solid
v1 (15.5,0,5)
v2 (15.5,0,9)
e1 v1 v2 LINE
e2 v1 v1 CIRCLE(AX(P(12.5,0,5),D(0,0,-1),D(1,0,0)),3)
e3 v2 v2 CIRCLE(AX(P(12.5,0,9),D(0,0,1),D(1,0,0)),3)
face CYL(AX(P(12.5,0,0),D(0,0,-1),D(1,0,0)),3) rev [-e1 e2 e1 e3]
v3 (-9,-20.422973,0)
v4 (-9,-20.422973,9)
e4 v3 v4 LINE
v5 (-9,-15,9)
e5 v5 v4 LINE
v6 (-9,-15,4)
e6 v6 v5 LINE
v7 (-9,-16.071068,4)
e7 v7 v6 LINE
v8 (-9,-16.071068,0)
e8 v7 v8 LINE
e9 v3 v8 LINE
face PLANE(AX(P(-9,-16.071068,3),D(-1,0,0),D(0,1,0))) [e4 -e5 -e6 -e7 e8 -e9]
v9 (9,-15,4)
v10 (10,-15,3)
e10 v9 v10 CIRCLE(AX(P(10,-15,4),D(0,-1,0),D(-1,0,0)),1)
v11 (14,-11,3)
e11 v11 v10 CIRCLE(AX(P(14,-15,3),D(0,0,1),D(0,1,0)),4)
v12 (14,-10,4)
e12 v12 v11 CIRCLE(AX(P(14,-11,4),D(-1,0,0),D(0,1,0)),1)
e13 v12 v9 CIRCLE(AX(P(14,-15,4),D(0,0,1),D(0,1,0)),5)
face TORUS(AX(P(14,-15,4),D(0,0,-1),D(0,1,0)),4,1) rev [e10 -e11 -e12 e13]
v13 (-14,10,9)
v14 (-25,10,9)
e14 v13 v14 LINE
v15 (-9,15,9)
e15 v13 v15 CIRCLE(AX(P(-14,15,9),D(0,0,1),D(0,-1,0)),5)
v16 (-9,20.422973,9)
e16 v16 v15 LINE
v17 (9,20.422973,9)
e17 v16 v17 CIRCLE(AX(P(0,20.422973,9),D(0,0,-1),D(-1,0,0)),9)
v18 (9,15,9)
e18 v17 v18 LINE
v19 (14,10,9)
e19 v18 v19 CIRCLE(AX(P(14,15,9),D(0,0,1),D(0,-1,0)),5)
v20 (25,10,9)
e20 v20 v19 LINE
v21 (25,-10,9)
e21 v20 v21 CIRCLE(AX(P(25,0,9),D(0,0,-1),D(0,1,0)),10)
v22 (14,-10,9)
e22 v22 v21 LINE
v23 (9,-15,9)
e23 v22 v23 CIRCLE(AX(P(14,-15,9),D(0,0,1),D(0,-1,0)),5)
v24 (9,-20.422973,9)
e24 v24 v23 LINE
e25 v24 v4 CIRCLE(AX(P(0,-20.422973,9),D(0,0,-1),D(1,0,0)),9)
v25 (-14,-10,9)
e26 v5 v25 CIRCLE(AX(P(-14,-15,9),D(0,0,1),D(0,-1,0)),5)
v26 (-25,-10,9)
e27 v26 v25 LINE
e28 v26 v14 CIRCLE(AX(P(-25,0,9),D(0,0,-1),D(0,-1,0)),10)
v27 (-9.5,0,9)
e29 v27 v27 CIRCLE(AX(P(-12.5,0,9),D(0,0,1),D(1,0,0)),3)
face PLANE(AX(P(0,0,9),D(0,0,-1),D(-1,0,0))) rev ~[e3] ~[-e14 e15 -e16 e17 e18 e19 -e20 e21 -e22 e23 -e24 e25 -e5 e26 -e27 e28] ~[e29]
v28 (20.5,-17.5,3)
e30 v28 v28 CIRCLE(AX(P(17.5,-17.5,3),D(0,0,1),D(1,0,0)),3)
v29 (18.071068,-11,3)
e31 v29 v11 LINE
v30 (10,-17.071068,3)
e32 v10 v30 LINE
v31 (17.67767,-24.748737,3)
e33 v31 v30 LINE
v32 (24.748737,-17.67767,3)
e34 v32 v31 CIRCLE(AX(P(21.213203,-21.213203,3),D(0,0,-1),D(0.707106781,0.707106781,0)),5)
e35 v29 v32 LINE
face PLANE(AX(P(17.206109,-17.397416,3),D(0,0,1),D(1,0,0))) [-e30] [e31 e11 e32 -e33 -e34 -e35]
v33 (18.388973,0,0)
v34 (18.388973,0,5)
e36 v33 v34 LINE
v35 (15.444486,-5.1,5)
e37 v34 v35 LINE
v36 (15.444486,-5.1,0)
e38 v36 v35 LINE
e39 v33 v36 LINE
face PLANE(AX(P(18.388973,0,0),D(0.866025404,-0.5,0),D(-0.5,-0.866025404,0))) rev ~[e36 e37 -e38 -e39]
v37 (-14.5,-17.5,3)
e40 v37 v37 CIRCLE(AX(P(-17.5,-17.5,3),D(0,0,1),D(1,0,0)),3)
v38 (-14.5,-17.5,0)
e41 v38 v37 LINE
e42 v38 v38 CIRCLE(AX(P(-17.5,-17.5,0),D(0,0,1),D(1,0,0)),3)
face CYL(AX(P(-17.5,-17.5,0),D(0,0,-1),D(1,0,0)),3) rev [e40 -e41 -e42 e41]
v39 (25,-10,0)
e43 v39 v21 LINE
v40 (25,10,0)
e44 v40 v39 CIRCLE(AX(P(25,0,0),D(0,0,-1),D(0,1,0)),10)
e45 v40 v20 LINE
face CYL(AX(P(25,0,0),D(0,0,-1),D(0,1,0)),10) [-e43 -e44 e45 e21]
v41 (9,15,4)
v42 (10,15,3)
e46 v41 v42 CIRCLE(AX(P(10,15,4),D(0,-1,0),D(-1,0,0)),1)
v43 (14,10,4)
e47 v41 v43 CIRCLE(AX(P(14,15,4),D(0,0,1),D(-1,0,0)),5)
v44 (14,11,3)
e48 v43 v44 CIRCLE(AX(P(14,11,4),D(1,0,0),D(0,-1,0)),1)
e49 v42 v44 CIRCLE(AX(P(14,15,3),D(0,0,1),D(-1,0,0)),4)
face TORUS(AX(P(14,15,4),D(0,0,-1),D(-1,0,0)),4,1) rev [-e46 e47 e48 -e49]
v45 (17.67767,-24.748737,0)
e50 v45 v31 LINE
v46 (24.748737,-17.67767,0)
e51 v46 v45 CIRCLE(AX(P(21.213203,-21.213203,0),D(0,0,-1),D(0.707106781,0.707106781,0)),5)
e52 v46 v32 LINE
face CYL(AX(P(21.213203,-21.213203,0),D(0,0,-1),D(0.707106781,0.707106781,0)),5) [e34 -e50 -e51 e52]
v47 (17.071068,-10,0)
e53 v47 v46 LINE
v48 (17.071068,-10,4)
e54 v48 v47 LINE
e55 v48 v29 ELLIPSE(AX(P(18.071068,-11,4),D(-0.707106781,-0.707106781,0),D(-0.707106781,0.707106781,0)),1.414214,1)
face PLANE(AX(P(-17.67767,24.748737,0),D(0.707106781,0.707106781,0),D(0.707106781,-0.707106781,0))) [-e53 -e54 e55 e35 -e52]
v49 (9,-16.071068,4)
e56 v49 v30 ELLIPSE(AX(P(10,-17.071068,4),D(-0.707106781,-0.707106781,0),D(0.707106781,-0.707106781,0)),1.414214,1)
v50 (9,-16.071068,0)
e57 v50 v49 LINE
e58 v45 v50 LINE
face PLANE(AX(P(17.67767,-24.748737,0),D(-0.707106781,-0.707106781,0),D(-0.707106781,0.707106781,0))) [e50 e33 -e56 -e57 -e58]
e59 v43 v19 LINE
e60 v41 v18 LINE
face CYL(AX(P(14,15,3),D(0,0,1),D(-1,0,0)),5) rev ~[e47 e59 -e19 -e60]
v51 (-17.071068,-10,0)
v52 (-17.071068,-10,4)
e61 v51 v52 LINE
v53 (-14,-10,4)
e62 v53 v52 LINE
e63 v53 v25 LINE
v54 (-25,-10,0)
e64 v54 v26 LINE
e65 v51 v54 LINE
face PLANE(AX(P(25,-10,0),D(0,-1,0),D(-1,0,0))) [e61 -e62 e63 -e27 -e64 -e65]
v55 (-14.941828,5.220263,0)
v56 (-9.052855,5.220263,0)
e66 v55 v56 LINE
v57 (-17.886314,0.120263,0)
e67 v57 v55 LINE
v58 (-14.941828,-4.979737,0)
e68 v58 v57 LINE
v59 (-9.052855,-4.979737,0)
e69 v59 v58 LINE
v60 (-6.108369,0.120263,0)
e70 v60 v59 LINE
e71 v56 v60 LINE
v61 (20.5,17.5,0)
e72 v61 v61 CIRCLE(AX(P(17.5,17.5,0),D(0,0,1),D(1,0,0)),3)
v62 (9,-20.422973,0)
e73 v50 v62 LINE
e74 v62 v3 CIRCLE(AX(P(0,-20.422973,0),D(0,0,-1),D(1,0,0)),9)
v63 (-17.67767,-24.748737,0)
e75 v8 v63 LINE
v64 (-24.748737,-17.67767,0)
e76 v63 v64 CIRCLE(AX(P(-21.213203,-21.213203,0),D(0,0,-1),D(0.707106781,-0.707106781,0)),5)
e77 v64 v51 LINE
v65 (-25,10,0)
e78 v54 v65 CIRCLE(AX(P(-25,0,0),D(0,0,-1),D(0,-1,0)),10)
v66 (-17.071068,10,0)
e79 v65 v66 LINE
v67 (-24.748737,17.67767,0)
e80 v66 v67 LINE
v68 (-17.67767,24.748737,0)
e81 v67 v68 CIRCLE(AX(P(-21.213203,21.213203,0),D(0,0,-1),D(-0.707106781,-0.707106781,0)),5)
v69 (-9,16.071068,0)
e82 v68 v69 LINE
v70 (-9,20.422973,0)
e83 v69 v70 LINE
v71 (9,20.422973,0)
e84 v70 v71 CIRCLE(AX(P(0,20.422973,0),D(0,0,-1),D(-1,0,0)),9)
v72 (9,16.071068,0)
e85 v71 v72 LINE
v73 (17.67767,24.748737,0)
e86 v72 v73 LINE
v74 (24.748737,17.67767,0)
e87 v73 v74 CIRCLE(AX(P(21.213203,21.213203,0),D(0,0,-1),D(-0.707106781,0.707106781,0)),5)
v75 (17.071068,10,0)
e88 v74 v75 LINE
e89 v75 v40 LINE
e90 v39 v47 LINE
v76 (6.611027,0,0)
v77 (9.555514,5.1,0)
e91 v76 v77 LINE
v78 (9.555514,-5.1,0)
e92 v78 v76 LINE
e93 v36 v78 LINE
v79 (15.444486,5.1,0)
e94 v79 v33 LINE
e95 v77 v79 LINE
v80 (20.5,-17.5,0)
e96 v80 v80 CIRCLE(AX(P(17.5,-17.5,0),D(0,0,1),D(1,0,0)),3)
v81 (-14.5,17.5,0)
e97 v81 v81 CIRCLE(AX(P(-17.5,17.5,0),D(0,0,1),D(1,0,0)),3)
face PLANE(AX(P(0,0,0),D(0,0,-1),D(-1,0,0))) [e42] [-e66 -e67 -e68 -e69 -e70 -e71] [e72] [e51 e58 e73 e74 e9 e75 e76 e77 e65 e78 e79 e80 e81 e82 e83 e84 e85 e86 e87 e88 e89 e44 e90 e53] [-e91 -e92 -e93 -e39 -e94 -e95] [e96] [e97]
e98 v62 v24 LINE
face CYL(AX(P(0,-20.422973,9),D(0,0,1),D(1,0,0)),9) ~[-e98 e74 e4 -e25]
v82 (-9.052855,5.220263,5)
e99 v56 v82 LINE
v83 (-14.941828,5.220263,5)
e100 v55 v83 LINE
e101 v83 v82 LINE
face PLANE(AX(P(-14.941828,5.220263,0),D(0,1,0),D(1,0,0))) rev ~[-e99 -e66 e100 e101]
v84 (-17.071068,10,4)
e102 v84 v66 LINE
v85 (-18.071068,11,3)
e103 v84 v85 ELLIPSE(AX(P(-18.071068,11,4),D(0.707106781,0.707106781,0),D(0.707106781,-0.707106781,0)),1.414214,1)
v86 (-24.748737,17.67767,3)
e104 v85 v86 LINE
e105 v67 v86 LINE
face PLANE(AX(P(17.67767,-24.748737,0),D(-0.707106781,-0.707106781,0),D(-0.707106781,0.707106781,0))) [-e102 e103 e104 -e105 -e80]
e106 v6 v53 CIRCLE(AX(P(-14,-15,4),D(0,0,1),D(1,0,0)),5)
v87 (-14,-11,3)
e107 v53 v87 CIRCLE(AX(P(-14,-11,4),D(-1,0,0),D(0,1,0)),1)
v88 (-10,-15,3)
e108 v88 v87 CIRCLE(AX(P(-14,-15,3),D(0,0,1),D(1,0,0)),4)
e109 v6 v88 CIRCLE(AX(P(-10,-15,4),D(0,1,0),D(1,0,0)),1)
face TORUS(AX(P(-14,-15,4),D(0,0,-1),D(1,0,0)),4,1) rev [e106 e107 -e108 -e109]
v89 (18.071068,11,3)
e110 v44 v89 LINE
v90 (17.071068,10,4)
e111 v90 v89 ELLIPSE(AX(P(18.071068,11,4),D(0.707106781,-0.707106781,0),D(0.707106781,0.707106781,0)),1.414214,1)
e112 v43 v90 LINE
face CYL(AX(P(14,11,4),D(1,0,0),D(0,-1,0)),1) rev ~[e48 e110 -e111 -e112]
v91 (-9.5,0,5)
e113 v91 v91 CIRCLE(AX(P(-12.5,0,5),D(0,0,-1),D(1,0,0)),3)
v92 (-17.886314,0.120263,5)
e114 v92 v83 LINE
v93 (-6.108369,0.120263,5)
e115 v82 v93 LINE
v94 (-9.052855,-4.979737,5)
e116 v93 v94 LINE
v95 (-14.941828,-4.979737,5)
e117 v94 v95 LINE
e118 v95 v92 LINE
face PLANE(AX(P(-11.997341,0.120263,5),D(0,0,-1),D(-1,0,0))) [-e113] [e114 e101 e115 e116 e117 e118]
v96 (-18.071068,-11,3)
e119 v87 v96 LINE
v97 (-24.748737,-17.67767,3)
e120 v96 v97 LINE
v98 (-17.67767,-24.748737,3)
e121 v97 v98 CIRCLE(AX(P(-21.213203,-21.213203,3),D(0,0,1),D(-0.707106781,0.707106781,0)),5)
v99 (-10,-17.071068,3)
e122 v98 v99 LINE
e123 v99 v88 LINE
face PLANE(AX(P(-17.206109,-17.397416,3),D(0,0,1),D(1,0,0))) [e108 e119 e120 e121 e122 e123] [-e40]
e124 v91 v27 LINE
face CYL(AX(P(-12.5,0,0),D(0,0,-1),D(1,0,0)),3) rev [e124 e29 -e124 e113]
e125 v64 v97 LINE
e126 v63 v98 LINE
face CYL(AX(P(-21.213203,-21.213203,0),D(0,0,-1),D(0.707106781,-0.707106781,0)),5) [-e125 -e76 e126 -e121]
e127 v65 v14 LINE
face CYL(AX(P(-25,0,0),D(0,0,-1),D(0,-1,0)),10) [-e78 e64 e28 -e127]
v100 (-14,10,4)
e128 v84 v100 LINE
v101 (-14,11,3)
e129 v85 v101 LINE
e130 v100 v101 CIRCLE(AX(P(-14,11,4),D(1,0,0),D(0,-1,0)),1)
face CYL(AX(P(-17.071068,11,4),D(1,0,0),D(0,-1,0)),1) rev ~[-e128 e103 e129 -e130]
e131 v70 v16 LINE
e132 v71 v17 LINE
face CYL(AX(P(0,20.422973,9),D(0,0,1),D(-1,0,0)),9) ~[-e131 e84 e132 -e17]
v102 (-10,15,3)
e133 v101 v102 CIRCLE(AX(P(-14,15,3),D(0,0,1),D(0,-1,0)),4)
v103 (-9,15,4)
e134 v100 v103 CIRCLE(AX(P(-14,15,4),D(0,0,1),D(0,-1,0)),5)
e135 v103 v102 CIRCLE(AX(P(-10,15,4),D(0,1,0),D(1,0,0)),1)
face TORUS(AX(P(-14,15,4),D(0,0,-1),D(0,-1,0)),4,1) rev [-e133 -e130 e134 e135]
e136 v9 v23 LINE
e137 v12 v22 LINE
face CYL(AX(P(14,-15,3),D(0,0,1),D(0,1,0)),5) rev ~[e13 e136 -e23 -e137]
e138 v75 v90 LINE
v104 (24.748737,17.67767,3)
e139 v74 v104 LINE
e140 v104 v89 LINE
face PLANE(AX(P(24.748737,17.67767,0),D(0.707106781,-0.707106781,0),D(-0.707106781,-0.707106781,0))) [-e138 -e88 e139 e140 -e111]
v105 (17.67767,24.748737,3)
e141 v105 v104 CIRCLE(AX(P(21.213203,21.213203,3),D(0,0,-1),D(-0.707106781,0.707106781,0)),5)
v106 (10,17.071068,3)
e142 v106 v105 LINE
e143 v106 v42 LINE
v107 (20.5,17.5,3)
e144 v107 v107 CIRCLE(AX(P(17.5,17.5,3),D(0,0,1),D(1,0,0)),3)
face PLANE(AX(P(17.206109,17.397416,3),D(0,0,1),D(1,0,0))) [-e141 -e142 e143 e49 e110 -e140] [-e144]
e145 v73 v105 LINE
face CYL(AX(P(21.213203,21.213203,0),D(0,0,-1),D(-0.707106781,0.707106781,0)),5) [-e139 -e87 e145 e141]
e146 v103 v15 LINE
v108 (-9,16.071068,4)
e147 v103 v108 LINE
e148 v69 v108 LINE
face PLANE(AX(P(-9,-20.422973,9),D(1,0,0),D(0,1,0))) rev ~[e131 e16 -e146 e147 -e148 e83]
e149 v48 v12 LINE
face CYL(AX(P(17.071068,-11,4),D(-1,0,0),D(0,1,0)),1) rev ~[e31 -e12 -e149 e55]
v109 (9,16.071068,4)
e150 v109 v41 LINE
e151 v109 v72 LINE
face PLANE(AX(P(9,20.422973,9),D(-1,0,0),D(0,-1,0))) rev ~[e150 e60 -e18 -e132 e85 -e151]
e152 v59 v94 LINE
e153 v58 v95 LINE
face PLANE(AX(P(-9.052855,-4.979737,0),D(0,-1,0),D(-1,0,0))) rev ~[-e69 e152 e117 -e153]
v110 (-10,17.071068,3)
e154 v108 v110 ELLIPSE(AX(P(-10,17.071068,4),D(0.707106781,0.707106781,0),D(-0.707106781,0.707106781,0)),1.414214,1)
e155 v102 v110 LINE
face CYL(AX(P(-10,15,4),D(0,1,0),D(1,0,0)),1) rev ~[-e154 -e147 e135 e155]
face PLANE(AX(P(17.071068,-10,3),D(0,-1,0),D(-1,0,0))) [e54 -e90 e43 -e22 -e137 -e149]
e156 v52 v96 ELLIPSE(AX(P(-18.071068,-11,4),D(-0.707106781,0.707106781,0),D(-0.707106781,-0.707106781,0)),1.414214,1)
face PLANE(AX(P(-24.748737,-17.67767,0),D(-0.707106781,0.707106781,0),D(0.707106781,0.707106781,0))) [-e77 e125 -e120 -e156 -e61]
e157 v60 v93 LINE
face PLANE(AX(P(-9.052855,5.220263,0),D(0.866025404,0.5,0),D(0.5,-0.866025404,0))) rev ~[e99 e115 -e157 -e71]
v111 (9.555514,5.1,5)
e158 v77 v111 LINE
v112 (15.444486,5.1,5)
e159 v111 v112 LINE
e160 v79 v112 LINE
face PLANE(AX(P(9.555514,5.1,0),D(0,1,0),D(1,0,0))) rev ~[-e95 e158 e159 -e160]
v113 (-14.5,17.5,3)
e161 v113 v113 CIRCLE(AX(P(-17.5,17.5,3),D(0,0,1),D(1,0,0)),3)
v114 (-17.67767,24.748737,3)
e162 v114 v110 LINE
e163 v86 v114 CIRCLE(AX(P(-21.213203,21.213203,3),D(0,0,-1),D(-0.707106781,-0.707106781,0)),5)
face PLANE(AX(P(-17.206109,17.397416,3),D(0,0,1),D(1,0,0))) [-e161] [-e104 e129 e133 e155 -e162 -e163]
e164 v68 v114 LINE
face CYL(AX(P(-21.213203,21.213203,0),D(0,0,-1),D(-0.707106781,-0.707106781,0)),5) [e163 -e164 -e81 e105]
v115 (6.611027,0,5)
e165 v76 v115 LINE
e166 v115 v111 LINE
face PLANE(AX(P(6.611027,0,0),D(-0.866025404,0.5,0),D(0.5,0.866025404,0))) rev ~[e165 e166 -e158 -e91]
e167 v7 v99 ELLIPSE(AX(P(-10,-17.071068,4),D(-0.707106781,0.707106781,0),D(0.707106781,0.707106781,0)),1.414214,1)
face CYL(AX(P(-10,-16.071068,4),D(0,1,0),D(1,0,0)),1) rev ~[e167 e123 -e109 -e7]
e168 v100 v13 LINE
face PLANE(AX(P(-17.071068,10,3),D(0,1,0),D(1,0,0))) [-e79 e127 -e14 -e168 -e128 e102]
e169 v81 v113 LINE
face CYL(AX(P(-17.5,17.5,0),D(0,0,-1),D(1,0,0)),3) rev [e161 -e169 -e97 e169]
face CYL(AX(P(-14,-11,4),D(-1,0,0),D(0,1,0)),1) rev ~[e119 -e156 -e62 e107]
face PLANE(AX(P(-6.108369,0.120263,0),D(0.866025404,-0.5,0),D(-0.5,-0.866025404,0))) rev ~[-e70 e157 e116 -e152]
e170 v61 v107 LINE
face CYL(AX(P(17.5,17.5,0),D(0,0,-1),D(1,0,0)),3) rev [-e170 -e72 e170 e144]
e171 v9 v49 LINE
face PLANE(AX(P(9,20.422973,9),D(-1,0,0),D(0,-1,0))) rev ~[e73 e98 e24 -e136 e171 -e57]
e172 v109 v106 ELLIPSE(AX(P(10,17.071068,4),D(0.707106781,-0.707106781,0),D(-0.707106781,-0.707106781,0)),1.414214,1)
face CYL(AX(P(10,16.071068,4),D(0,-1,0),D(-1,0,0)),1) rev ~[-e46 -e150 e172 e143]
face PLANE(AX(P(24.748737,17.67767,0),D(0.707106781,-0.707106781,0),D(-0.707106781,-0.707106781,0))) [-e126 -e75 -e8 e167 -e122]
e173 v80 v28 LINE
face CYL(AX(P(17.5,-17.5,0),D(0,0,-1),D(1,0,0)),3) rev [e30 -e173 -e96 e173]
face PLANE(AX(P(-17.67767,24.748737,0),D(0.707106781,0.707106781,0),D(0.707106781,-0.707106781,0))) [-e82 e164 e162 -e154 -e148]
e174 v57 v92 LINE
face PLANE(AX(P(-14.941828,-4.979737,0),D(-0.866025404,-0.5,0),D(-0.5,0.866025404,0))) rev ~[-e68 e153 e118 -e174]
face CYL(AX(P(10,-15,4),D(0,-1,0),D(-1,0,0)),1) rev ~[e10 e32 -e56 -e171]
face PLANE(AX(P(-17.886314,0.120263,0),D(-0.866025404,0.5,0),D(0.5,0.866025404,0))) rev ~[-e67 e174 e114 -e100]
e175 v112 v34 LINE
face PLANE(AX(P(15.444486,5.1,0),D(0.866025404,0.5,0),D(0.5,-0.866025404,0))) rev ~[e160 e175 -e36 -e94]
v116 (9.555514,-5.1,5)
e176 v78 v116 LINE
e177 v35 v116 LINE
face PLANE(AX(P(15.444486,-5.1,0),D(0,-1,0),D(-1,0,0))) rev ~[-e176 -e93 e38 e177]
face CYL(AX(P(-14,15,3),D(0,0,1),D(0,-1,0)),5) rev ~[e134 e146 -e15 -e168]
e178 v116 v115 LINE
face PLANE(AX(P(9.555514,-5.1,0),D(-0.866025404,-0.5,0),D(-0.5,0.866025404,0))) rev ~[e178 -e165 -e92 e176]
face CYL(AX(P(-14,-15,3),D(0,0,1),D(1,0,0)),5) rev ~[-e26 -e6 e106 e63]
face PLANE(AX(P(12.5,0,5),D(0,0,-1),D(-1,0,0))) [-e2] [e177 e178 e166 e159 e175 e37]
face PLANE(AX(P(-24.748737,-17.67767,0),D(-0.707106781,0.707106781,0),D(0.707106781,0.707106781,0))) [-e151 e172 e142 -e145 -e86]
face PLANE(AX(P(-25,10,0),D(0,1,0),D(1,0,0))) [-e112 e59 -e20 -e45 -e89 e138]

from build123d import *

# Parameters (mm, degrees)
SKETCH1_R           = 3
BOSS_EXTRUDE2_DEPTH = 9
BOSS_EXTRUDE3_DEPTH = 9
CUT_EXTRUDE4_DEPTH  = 5
CUT_EXTRUDE5_START  = -6
SKETCH4_R           = 3
CUT_EXTRUDE5_DEPTH  = 6
FILLET1_R           = 5
FILLET2_R           = 1


with BuildPart() as part:
    # Sketch1 → Boss-Extrude2 (new body)
    # profile 1 of 3: a face of its own
    with BuildSketch(Plane.XY):
        with BuildLine():
            Line((17.67766953, -24.748737342), (-24.748737342, 17.67766953))
            ThreePointArc((-24.748737342, 17.67766953), (-24.748737342, 24.748737342), (-17.67766953, 24.748737342))
            Line((-17.67766953, 24.748737342), (24.748737342, -17.67766953))
            ThreePointArc((24.748737342, -17.67766953), (24.748737342, -24.748737342), (17.67766953, -24.748737342))
        make_face()
        with Locations((-17.5, 17.5)):
            Circle(SKETCH1_R, mode=Mode.SUBTRACT)
        with Locations((17.5, -17.5)):
            Circle(SKETCH1_R, mode=Mode.SUBTRACT)
    # profile 2 of 3: a face of its own
    with BuildSketch(Plane.XY):
        with BuildLine():
            Line((-24.748737342, -17.67766953), (17.67766953, 24.748737342))
            ThreePointArc((17.67766953, 24.748737342), (24.748737342, 24.748737342), (24.748737342, 17.67766953))
            Line((24.748737342, 17.67766953), (-17.67766953, -24.748737342))
            ThreePointArc((-17.67766953, -24.748737342), (-24.748737342, -24.748737342), (-24.748737342, -17.67766953))
        make_face()
        with Locations((17.5, 17.5)):
            Circle(SKETCH1_R, mode=Mode.SUBTRACT)
        with Locations((-17.5, -17.5)):
            Circle(SKETCH1_R, mode=Mode.SUBTRACT)
    # profile 3 of 3: a face of its own
    with BuildSketch(Plane.XY):
        with BuildLine():
            Line((-25, 10), (25, 10))
            ThreePointArc((25, 10), (35, 0), (25, -10))
            Line((25, -10), (-25, -10))
            ThreePointArc((-25, -10), (-35, 0), (-25, 10))
        make_face()
        with Locations((12.5, 0)):
            Circle(SKETCH1_R, mode=Mode.SUBTRACT)
        with Locations((-12.5, 0)):
            Circle(SKETCH1_R, mode=Mode.SUBTRACT)
    extrude(amount=BOSS_EXTRUDE2_DEPTH)

    # Sketch5 → Boss-Extrude3 (add)
    with BuildSketch(Plane.XY.offset(9)):
        with BuildLine():
            Line((9, 20.422973397), (9, -20.422973397))
            ThreePointArc((9, -20.422973397), (0, -29.422973397), (-9, -20.422973397))
            Line((-9, -20.422973397), (-9, 20.422973397))
            ThreePointArc((-9, 20.422973397), (0, 29.422973397), (9, 20.422973397))
        make_face()
    extrude(amount=-BOSS_EXTRUDE3_DEPTH)

    # Sketch6 → Cut-Extrude4 (cut)
    with BuildSketch(Plane(origin=(0, 0, 0), x_dir=(-1, 0, 0), z_dir=(0, 0, -1))):
        Polygon((-6.611027254, 0), (-9.555513627, 5.1), (-15.444486373, 5.1), (-18.388972746, 0), (-15.444486373, -5.1), (-9.555513627, -5.1), align=None)
        Polygon((17.886314115, 0.120263137), (14.941827742, 5.220263137), (9.052854996, 5.220263137), (6.108368623, 0.120263137), (9.052854996, -4.979736863), (14.941827742, -4.979736863), align=None)
    extrude(amount=-CUT_EXTRUDE4_DEPTH, mode=Mode.SUBTRACT)

    # Sketch4 → Cut-Extrude5 (cut)
    # profile 1 of 8: a face of its own
    with BuildSketch(Plane.XY.offset(9).offset(CUT_EXTRUDE5_START)):
        with BuildLine():
            Line((-9, 26.683350041), (-29.894469541, 26.683350041))
            Line((-29.894469541, 26.683350041), (-29.894469541, 10))
            Line((-29.894469541, 10), (-25, 10))
            Line((-25, 10), (-17.071067812, 10))
            Line((-17.071067812, 10), (-24.748737342, 17.67766953))
            ThreePointArc((-24.748737342, 17.67766953), (-24.748737342, 24.748737342), (-17.67766953, 24.748737342))
            Line((-17.67766953, 24.748737342), (-9, 16.071067812))
            Line((-9, 16.071067812), (-9, 20.422973397))
            Line((-9, 20.422973397), (-9, 26.683350041))
        make_face()
    # profile 2 of 8: a face of its own
    with BuildSketch(Plane.XY.offset(9).offset(CUT_EXTRUDE5_START)):
        with BuildLine():
            Line((-9, 10), (-9, 16.071067812))
            Line((-9, 16.071067812), (-17.67766953, 24.748737342))
            ThreePointArc((-17.67766953, 24.748737342), (-24.748737342, 24.748737342), (-24.748737342, 17.67766953))
            Line((-24.748737342, 17.67766953), (-17.071067812, 10))
            Line((-17.071067812, 10), (-9, 10))
        make_face()
        with Locations((-17.5, 17.5)):
            Circle(SKETCH4_R, mode=Mode.SUBTRACT)
    # profile 3 of 8: a face of its own
    with BuildSketch(Plane.XY.offset(9).offset(CUT_EXTRUDE5_START)):
        with BuildLine():
            Line((25, 10), (29.894469541, 10))
            Line((29.894469541, 10), (29.894469541, 26.683350041))
            Line((29.894469541, 26.683350041), (9, 26.683350041))
            Line((9, 26.683350041), (9, 20.422973397))
            Line((9, 20.422973397), (9, 16.071067812))
            Line((9, 16.071067812), (17.67766953, 24.748737342))
            ThreePointArc((17.67766953, 24.748737342), (24.748737342, 24.748737342), (24.748737342, 17.67766953))
            Line((24.748737342, 17.67766953), (17.071067812, 10))
            Line((17.071067812, 10), (25, 10))
        make_face()
    # profile 4 of 8: a face of its own
    with BuildSketch(Plane.XY.offset(9).offset(CUT_EXTRUDE5_START)):
        with BuildLine():
            Line((9, 10), (17.071067812, 10))
            Line((17.071067812, 10), (24.748737342, 17.67766953))
            ThreePointArc((24.748737342, 17.67766953), (24.748737342, 24.748737342), (17.67766953, 24.748737342))
            Line((17.67766953, 24.748737342), (9, 16.071067812))
            Line((9, 16.071067812), (9, 10))
        make_face()
        with Locations((17.5, 17.5)):
            Circle(SKETCH4_R, mode=Mode.SUBTRACT)
    # profile 5 of 8: a face of its own
    with BuildSketch(Plane.XY.offset(9).offset(CUT_EXTRUDE5_START)):
        with BuildLine():
            Line((9, -26.683350041), (29.894469541, -26.683350041))
            Line((29.894469541, -26.683350041), (29.894469541, -10))
            Line((29.894469541, -10), (25, -10))
            Line((25, -10), (17.071067812, -10))
            Line((17.071067812, -10), (24.748737342, -17.67766953))
            ThreePointArc((24.748737342, -17.67766953), (24.748737342, -24.748737342), (17.67766953, -24.748737342))
            Line((17.67766953, -24.748737342), (9, -16.071067812))
            Line((9, -16.071067812), (9, -20.422973397))
            Line((9, -20.422973397), (9, -26.683350041))
        make_face()
    # profile 6 of 8: a face of its own
    with BuildSketch(Plane.XY.offset(9).offset(CUT_EXTRUDE5_START)):
        with BuildLine():
            Line((24.748737342, -17.67766953), (17.071067812, -10))
            Line((17.071067812, -10), (9, -10))
            Line((9, -10), (9, -16.071067812))
            Line((9, -16.071067812), (17.67766953, -24.748737342))
            ThreePointArc((17.67766953, -24.748737342), (24.748737342, -24.748737342), (24.748737342, -17.67766953))
        make_face()
        with Locations((17.5, -17.5)):
            Circle(SKETCH4_R, mode=Mode.SUBTRACT)
    # profile 7 of 8: a face of its own
    with BuildSketch(Plane.XY.offset(9).offset(CUT_EXTRUDE5_START)):
        with BuildLine():
            Line((-9, -10), (-17.071067812, -10))
            Line((-17.071067812, -10), (-24.748737342, -17.67766953))
            ThreePointArc((-24.748737342, -17.67766953), (-24.748737342, -24.748737342), (-17.67766953, -24.748737342))
            Line((-17.67766953, -24.748737342), (-9, -16.071067812))
            Line((-9, -16.071067812), (-9, -10))
        make_face()
        with Locations((-17.5, -17.5)):
            Circle(SKETCH4_R, mode=Mode.SUBTRACT)
    # profile 8 of 8: a face of its own
    with BuildSketch(Plane.XY.offset(9).offset(CUT_EXTRUDE5_START)):
        with BuildLine():
            Line((-25, -10), (-29.894469541, -10))
            Line((-29.894469541, -10), (-29.894469541, -26.683350041))
            Line((-29.894469541, -26.683350041), (-9, -26.683350041))
            Line((-9, -26.683350041), (-9, -20.422973397))
            Line((-9, -20.422973397), (-9, -16.071067812))
            Line((-9, -16.071067812), (-17.67766953, -24.748737342))
            ThreePointArc((-17.67766953, -24.748737342), (-24.748737342, -24.748737342), (-24.748737342, -17.67766953))
            Line((-24.748737342, -17.67766953), (-17.071067812, -10))
            Line((-17.071067812, -10), (-25, -10))
        make_face()
    extrude(amount=CUT_EXTRUDE5_DEPTH, mode=Mode.SUBTRACT)

    # Fillet1
    fillet1_edges = [part.edges().sort_by_distance(p)[0] for p in [
        (-9, -10, 6),
        (9, -10, 6),
        (9, 10, 6),
        (-9, 10, 6),
    ]]
    fillet(fillet1_edges, radius=FILLET1_R)

    # Fillet2
    fillet2_edges = [part.edges().sort_by_distance(p)[0] for p in [
        (-9, -15.535533906, 3),
        (-15.535533906, -10, 3),
        (15.535533906, -10, 3),
        (9, -15.535533906, 3),
        (9, 15.535533906, 3),
        (15.535533906, 10, 3),
        (-15.535533906, 10, 3),
        (-9, 15.535533906, 3),
        (10.464466094, 11.464466094, 3),
        (-10.464466094, 11.464466094, 3),
        (-10.464466094, -11.464466094, 3),
        (10.464466094, -11.464466094, 3),
    ]]
    fillet(fillet2_edges, radius=FILLET2_R)


solid = part.part
